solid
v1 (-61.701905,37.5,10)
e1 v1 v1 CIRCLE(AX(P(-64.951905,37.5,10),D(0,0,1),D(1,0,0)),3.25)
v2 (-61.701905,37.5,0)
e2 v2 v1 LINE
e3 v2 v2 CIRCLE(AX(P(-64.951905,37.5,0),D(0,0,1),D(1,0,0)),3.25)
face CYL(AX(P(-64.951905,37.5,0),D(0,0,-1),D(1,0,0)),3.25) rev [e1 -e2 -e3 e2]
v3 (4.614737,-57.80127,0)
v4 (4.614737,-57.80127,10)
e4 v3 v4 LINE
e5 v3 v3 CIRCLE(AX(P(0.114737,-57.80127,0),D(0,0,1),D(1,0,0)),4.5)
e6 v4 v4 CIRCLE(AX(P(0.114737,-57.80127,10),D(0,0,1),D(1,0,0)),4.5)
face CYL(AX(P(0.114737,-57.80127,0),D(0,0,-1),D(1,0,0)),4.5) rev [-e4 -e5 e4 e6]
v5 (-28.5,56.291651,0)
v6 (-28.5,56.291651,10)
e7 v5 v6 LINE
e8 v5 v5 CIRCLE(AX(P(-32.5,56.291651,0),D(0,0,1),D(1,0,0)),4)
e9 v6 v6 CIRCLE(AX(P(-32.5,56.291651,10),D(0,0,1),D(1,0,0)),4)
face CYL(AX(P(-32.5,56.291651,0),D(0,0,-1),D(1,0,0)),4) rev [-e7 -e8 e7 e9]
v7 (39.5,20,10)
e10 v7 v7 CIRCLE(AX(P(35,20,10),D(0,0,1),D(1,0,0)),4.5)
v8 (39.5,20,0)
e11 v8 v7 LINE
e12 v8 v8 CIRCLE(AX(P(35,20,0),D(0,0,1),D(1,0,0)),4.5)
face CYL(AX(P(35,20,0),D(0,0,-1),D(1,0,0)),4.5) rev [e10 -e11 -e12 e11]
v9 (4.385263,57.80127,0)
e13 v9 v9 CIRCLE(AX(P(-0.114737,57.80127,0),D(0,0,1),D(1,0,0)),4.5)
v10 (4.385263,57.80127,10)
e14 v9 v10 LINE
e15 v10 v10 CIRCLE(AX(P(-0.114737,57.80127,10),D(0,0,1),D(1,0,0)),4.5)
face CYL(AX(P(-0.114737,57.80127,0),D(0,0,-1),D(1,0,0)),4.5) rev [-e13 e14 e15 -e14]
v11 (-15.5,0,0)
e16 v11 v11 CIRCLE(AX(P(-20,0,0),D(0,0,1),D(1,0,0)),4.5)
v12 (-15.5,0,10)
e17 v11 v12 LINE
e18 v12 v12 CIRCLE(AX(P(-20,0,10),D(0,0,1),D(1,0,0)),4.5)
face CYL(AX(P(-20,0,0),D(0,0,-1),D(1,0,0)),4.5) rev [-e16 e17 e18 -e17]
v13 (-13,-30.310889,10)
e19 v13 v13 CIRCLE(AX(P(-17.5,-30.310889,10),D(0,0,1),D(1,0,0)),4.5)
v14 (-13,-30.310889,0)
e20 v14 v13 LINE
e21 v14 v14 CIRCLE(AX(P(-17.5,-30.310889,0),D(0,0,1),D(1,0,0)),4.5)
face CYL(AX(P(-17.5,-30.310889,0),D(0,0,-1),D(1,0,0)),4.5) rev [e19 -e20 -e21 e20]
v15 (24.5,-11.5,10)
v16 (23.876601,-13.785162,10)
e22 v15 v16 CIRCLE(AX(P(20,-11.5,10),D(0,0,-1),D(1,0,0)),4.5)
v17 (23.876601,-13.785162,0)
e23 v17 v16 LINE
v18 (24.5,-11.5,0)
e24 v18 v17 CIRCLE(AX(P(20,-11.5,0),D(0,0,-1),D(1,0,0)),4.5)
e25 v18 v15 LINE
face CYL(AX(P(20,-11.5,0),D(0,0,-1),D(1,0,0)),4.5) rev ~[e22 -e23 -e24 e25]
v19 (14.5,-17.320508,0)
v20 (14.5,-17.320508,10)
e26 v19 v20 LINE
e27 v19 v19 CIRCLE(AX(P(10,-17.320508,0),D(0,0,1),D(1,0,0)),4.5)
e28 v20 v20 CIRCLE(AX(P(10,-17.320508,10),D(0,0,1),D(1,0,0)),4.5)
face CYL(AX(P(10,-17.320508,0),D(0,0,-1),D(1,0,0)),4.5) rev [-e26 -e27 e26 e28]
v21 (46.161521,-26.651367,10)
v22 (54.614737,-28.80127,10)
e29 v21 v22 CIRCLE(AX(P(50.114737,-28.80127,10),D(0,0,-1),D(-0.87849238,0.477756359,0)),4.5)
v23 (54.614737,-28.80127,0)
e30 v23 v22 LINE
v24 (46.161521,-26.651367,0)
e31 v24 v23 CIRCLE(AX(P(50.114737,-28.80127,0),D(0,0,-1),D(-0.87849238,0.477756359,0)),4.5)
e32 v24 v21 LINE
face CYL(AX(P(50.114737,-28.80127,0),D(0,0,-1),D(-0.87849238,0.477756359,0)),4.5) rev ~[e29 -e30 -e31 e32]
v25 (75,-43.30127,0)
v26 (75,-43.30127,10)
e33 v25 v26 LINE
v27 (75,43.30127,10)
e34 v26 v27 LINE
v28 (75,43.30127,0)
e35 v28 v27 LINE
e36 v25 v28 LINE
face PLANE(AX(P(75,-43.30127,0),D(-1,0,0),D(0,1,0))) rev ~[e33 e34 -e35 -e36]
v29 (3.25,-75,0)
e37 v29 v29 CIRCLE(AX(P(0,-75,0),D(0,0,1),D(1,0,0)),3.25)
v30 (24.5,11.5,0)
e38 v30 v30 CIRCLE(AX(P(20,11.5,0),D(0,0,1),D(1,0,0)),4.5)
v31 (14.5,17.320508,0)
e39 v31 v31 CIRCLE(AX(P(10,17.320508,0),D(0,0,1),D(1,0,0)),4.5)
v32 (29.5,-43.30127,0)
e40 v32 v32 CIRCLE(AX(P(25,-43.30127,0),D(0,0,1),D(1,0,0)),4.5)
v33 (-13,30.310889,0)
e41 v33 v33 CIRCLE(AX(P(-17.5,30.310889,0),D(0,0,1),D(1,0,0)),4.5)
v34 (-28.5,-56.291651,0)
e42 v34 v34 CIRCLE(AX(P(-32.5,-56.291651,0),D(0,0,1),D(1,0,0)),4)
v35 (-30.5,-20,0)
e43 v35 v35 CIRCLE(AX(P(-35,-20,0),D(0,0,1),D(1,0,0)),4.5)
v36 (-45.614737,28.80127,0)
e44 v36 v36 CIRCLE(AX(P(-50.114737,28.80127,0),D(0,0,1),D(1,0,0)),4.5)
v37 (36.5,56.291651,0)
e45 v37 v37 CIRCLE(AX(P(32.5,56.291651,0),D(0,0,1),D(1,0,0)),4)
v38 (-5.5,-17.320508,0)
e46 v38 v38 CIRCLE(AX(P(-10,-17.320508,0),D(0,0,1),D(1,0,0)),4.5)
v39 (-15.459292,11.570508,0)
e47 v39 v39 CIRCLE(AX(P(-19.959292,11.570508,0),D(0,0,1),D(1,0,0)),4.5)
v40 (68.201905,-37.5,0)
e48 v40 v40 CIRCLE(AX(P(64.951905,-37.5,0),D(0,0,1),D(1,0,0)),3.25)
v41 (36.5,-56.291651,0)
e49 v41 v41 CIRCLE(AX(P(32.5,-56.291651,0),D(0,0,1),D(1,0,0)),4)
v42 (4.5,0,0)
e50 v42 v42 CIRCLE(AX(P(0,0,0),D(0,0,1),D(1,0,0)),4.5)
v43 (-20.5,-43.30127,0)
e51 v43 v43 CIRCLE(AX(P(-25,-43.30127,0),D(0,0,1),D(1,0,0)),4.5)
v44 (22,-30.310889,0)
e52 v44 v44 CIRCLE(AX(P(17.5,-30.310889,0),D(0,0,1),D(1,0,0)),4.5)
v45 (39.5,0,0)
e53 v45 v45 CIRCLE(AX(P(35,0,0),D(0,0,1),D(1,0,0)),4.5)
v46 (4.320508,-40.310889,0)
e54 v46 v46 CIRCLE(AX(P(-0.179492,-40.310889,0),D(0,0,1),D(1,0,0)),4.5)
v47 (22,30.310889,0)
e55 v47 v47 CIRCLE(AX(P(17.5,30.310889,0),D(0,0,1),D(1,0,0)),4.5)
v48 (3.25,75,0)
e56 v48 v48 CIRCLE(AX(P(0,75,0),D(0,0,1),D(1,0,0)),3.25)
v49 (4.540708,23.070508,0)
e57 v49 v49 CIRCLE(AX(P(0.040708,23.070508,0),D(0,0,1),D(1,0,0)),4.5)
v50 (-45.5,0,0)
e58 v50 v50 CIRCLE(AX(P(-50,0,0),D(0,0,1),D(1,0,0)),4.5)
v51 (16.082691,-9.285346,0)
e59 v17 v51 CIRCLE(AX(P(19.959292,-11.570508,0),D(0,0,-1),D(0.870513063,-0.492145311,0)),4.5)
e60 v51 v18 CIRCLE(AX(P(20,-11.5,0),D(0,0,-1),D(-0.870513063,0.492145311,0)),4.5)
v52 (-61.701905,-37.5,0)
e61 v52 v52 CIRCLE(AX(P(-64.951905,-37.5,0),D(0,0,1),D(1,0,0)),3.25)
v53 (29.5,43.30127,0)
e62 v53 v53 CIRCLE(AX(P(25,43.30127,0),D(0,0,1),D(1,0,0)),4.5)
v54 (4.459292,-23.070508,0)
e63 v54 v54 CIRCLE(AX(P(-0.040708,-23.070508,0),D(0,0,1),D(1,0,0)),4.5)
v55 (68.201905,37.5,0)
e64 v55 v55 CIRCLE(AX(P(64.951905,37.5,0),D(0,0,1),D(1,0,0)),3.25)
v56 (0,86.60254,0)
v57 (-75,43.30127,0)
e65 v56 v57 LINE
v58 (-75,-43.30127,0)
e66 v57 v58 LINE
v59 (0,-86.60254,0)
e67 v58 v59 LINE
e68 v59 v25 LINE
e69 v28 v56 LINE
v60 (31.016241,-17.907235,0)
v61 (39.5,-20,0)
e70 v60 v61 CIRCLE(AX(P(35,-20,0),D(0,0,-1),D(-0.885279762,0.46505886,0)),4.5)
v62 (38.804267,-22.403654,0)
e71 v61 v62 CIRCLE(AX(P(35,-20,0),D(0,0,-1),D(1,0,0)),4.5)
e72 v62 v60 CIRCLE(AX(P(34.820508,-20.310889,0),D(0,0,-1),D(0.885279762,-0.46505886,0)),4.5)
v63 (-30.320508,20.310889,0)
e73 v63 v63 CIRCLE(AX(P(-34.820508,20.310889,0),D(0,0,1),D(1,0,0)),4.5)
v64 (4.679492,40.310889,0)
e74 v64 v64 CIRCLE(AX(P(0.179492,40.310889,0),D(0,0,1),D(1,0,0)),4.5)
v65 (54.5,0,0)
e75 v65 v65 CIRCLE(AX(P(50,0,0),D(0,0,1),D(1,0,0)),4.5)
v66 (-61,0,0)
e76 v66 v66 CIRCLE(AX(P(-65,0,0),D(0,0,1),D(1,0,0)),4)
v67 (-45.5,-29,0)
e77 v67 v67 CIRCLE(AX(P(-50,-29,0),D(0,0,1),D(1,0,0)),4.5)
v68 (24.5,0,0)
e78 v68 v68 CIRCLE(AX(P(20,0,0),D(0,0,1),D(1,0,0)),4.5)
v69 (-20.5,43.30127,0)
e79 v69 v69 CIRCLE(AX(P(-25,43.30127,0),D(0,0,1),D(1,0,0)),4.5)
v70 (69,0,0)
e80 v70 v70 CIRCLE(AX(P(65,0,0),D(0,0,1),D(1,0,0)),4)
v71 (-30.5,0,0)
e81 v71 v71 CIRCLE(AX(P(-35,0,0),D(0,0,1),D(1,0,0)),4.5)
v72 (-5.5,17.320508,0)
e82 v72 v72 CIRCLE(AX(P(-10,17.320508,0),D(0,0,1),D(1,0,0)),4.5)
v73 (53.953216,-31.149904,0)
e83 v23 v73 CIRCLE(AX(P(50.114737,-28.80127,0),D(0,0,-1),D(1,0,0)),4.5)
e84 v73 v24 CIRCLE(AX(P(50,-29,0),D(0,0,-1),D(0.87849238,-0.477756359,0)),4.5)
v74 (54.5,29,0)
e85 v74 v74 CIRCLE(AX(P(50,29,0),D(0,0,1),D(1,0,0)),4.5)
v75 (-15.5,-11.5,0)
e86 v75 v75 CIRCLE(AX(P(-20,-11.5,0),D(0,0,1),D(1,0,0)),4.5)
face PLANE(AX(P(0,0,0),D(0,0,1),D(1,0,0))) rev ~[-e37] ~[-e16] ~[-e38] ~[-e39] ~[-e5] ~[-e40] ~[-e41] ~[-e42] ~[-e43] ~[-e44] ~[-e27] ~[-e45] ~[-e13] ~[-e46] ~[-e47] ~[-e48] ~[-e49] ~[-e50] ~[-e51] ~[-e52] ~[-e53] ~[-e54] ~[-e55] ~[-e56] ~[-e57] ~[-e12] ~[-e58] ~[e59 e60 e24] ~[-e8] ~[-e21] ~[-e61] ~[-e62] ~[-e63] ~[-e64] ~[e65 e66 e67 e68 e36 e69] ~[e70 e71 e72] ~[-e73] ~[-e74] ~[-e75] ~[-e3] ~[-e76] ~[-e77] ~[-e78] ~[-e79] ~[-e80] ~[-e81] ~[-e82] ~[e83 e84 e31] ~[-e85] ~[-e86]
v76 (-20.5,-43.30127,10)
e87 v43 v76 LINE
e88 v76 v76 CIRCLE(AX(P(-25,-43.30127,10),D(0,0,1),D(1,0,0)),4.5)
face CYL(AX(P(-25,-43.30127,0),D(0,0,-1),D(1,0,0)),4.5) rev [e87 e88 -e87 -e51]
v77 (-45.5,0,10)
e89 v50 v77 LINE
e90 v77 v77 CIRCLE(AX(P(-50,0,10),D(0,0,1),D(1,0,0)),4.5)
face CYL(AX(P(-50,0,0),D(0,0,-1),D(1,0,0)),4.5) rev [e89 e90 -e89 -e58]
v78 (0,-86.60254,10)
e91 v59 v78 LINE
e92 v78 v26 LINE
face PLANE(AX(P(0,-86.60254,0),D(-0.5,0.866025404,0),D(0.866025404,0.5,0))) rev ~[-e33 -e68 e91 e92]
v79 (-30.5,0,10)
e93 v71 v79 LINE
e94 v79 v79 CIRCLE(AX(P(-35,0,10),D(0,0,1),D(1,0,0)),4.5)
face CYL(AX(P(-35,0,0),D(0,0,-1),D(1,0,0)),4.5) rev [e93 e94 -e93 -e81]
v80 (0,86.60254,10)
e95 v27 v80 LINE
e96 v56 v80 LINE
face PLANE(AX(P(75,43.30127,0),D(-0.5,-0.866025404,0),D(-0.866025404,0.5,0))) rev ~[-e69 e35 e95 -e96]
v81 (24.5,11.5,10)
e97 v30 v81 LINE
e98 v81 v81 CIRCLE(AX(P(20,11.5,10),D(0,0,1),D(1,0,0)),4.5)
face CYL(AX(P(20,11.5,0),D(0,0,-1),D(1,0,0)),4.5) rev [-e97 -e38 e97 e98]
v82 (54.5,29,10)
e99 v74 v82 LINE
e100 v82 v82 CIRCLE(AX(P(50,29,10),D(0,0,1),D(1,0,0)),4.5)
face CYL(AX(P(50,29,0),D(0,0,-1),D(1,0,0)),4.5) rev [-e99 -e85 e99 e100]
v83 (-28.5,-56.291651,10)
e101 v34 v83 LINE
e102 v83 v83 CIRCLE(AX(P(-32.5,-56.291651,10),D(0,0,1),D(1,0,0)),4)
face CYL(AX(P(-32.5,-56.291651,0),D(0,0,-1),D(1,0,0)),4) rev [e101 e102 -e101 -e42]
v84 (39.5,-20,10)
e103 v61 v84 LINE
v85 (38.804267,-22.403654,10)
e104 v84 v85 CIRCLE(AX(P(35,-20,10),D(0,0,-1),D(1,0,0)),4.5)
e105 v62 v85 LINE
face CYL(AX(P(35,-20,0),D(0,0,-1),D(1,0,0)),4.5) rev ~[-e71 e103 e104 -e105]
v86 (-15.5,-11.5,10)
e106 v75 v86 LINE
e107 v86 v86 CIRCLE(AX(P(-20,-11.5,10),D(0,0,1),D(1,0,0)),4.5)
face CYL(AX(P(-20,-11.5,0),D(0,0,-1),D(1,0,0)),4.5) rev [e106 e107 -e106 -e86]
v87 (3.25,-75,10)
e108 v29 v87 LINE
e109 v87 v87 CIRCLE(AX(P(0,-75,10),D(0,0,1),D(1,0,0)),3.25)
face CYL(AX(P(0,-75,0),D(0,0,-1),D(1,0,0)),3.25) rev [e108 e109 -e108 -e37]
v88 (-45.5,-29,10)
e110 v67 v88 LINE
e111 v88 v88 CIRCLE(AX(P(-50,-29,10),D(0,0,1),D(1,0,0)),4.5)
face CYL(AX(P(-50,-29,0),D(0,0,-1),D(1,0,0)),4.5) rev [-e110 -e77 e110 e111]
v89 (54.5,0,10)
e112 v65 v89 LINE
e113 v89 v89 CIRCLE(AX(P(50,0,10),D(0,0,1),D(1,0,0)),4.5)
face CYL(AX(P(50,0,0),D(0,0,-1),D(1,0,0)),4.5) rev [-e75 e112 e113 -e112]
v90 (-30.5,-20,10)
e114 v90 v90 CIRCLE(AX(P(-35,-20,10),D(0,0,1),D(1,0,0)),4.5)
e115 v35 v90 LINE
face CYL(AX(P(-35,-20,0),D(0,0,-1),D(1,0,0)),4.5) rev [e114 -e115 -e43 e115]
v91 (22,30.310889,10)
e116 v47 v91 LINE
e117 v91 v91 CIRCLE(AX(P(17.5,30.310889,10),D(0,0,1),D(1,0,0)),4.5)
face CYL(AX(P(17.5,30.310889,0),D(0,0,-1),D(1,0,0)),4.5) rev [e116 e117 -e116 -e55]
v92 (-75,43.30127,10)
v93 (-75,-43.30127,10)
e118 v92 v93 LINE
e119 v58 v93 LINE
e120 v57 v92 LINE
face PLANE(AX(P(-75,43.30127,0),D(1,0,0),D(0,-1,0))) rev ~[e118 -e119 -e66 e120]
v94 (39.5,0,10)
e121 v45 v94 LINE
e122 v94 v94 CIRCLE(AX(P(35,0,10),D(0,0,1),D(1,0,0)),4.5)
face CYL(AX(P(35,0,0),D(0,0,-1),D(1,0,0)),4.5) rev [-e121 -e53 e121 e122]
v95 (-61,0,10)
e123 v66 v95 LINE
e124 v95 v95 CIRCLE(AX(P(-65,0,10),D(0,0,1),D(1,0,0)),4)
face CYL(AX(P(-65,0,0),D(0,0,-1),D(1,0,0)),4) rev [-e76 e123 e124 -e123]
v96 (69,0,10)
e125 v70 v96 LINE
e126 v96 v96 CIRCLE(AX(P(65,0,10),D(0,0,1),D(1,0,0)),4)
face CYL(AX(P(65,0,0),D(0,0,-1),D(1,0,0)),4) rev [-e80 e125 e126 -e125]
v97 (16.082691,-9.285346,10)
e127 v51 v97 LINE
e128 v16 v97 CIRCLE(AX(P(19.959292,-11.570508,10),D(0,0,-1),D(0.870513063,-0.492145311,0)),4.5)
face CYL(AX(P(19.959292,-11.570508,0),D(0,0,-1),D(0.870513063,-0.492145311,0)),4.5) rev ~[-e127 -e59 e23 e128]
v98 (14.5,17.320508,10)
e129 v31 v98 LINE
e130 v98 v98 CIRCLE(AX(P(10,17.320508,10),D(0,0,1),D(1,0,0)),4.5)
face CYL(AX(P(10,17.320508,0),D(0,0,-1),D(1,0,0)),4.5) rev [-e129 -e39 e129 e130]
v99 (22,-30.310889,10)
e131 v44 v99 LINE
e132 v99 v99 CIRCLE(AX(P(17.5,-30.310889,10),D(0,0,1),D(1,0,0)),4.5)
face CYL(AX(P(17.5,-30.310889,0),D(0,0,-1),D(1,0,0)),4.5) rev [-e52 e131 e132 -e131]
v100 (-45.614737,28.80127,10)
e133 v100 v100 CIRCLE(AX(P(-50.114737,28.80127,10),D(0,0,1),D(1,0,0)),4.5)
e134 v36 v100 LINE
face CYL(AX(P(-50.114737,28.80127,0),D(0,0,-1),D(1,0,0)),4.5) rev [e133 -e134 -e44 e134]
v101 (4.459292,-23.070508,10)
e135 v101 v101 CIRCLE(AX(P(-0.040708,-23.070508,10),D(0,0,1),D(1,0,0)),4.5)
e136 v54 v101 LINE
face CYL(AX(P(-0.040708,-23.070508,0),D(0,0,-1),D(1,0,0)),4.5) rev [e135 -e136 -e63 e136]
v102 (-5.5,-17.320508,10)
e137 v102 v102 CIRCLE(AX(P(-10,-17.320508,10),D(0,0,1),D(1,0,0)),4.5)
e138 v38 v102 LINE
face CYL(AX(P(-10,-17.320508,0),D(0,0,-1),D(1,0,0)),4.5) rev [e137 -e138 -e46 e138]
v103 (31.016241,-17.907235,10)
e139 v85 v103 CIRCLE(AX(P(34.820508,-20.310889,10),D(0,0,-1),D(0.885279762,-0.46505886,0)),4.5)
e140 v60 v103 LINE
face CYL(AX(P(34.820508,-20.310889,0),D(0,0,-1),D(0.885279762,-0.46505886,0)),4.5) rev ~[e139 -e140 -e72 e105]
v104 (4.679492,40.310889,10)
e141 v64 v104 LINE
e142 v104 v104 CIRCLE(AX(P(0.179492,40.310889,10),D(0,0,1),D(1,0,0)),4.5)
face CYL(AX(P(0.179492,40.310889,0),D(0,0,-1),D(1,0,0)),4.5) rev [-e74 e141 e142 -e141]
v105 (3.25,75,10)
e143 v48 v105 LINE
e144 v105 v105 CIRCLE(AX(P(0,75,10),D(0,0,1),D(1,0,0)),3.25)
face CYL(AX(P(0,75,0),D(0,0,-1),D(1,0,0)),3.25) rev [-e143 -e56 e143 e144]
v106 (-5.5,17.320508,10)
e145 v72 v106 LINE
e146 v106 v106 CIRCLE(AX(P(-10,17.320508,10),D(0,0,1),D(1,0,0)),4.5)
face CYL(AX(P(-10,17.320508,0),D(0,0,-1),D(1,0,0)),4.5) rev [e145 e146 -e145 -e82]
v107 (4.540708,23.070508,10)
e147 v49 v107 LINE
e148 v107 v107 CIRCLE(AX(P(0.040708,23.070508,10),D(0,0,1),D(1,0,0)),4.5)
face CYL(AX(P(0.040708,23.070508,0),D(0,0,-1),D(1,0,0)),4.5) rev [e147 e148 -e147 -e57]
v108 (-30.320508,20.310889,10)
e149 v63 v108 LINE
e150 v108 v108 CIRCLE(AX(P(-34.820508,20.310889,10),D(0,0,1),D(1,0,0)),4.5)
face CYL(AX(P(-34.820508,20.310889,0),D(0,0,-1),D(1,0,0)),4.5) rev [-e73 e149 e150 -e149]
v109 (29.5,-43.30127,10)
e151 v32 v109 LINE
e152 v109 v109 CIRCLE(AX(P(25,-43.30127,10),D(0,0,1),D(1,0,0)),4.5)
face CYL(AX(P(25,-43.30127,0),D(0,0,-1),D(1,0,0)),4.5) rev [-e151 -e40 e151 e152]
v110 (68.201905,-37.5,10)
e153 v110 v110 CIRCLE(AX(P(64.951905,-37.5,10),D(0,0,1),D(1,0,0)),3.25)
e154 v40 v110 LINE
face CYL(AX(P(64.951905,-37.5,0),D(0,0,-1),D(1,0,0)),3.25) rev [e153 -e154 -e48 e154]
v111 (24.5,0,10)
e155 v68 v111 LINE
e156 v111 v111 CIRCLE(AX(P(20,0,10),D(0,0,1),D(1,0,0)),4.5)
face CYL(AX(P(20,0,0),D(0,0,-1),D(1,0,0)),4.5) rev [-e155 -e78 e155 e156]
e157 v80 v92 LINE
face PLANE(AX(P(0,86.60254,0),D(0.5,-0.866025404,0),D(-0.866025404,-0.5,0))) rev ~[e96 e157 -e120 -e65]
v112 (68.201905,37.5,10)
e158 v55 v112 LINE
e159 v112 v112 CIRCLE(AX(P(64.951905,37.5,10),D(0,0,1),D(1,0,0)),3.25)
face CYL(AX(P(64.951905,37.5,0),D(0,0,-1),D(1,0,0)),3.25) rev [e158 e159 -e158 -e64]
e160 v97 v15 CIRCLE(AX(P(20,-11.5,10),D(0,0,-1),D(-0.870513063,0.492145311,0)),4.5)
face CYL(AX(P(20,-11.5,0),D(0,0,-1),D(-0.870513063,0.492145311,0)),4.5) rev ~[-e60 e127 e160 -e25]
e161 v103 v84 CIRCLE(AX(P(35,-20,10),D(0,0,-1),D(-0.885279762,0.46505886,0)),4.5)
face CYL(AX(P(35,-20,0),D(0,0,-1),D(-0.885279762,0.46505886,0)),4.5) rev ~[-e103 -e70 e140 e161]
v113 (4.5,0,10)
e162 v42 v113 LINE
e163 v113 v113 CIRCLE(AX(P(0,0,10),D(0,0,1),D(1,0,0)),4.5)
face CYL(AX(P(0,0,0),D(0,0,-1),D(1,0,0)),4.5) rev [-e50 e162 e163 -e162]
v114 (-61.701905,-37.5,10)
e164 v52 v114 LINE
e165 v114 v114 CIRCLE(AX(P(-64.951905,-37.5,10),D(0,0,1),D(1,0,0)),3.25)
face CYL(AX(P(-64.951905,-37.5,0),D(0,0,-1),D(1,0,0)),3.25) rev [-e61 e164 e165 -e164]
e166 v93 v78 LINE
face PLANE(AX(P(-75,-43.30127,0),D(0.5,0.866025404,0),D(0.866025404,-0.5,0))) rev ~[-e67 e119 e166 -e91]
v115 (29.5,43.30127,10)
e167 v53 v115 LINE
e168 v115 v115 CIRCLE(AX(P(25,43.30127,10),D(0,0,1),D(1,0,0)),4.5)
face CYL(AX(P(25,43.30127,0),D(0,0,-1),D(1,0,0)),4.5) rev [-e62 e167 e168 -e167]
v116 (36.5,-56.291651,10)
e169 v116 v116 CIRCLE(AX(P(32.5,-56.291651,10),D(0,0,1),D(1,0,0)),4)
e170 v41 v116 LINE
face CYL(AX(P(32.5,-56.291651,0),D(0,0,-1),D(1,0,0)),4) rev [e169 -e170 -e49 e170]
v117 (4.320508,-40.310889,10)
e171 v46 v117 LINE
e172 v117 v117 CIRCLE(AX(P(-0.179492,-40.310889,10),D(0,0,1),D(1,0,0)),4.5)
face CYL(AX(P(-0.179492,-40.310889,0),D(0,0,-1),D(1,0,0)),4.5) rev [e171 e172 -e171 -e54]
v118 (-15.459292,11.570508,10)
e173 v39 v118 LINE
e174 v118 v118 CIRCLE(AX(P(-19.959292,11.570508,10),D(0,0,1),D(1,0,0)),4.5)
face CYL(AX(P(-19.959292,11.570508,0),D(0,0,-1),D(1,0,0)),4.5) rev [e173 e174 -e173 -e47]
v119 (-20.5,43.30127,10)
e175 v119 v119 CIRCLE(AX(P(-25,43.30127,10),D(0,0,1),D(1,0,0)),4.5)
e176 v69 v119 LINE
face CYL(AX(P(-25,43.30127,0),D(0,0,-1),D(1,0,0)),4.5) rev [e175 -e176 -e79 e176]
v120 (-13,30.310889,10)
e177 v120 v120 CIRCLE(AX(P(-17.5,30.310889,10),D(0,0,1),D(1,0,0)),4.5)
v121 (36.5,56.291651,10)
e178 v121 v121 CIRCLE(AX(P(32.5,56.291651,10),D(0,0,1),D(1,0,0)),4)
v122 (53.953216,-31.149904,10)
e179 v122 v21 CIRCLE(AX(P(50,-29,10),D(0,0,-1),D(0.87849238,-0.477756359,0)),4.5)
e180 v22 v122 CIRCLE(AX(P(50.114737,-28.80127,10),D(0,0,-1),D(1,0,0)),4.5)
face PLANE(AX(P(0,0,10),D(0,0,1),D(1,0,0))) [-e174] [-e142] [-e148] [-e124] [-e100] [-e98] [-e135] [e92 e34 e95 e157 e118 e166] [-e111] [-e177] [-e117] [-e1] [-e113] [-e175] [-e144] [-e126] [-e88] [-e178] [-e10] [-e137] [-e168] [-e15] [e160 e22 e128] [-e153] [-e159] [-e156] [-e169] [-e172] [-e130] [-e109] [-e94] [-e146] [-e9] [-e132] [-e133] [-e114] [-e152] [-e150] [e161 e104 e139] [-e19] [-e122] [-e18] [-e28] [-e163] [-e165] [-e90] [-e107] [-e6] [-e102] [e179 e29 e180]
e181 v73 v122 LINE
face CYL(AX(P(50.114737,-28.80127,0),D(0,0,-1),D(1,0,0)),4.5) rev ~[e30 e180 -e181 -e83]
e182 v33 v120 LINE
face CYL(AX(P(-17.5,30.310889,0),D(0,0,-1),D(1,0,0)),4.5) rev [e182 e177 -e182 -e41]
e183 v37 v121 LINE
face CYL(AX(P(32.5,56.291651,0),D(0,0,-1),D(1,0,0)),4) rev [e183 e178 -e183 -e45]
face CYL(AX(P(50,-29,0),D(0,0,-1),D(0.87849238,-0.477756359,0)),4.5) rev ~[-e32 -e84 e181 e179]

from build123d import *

# Parameters (mm, degrees)
SKETCH1_R           = 4
SKETCH1_R_2         = 3.25
SKETCH1_R_3         = 4.5
BOSS_EXTRUDE1_DEPTH = 10


with BuildPart() as part:
    # Sketch1 → Boss-Extrude1 (new body)
    with BuildSketch(Plane.XY):
        Polygon((-75, -43.301270189), (0, -86.602540378), (75, -43.301270189), (75, 43.301270189), (0, 86.602540378), (-75, 43.301270189), align=None)
        with Locations((-32.5, -56.291651246)):
            Circle(SKETCH1_R, mode=Mode.SUBTRACT)
        with Locations((-64.951905284, -37.5)):
            Circle(SKETCH1_R_2, mode=Mode.SUBTRACT)
        with Locations((-50, -29)):
            Circle(SKETCH1_R_3, mode=Mode.SUBTRACT)
        with Locations((-65, 0)):
            Circle(SKETCH1_R, mode=Mode.SUBTRACT)
        with Locations((-25, -43.301270189)):
            Circle(SKETCH1_R_3, mode=Mode.SUBTRACT)
        with Locations((-0.179491924, -40.310889132)):
            Circle(SKETCH1_R_3, mode=Mode.SUBTRACT)
        with Locations((-17.5, -30.310889132)):
            Circle(SKETCH1_R_3, mode=Mode.SUBTRACT)
        with Locations((-0.040707856, -23.070508076)):
            Circle(SKETCH1_R_3, mode=Mode.SUBTRACT)
        with Locations((-35, -20)):
            Circle(SKETCH1_R_3, mode=Mode.SUBTRACT)
        with Locations((-20, -11.5)):
            Circle(SKETCH1_R_3, mode=Mode.SUBTRACT)
        with Locations((-10, -17.320508076)):
            Circle(SKETCH1_R_3, mode=Mode.SUBTRACT)
        with Locations((0, -75)):
            Circle(SKETCH1_R_2, mode=Mode.SUBTRACT)
        with Locations((0.11473671, -57.801270189)):
            Circle(SKETCH1_R_3, mode=Mode.SUBTRACT)
        with Locations((32.5, -56.291651246)):
            Circle(SKETCH1_R, mode=Mode.SUBTRACT)
        with Locations((25, -43.301270189)):
            Circle(SKETCH1_R_3, mode=Mode.SUBTRACT)
        with Locations((17.5, -30.310889132)):
            Circle(SKETCH1_R_3, mode=Mode.SUBTRACT)
        with Locations((10, -17.320508076)):
            Circle(SKETCH1_R_3, mode=Mode.SUBTRACT)
        with BuildLine():
            ThreePointArc((16.082691215, -9.285346102), (21.145013203, -7.148110208), (24.5, -11.5))
            ThreePointArc((24.5, -11.5), (24.341353716, -12.684334375), (23.876600928, -13.785161973))
            ThreePointArc((23.876600928, -13.785161973), (17.709292144, -15.467622393), (16.082691215, -9.285346102))
        make_face(mode=Mode.SUBTRACT)
        with BuildLine():
            ThreePointArc((31.016241071, -17.907235132), (36.077748769, -15.630966058), (39.5, -20))
            ThreePointArc((39.5, -20), (39.322568769, -21.251159158), (38.804267005, -22.403654001))
            ThreePointArc((38.804267005, -22.403654001), (32.570508076, -24.208003449), (31.016241071, -17.907235132))
        make_face(mode=Mode.SUBTRACT)
        with BuildLine():
            ThreePointArc((53.95321571, -31.149903614), (47.75, -32.897114317), (46.161521, -26.651366575))
            ThreePointArc((46.161521, -26.651366575), (51.223909668, -24.440108034), (54.61473671, -28.801270189))
            ThreePointArc((54.61473671, -28.801270189), (54.446200406, -30.021279308), (53.95321571, -31.149903614))
        make_face(mode=Mode.SUBTRACT)
        with Locations((64.951905284, -37.5)):
            Circle(SKETCH1_R_2, mode=Mode.SUBTRACT)
        with Locations((-50, 0)):
            Circle(SKETCH1_R_3, mode=Mode.SUBTRACT)
        with Locations((-64.951905284, 37.5)):
            Circle(SKETCH1_R_2, mode=Mode.SUBTRACT)
        with Locations((-50.11473671, 28.801270189)):
            Circle(SKETCH1_R_3, mode=Mode.SUBTRACT)
        with Locations((-35, 0)):
            Circle(SKETCH1_R_3, mode=Mode.SUBTRACT)
        with Locations((-20, 0)):
            Circle(SKETCH1_R_3, mode=Mode.SUBTRACT)
        with Locations((-34.820508076, 20.310889132)):
            Circle(SKETCH1_R_3, mode=Mode.SUBTRACT)
        with Locations((-19.959292144, 11.570508076)):
            Circle(SKETCH1_R_3, mode=Mode.SUBTRACT)
        with Locations((-10, 17.320508076)):
            Circle(SKETCH1_R_3, mode=Mode.SUBTRACT)
        with Locations((-17.5, 30.310889132)):
            Circle(SKETCH1_R_3, mode=Mode.SUBTRACT)
        with Locations((-25, 43.301270189)):
            Circle(SKETCH1_R_3, mode=Mode.SUBTRACT)
        with Locations((-32.5, 56.291651246)):
            Circle(SKETCH1_R, mode=Mode.SUBTRACT)
        with Locations((-0.11473671, 57.801270189)):
            Circle(SKETCH1_R_3, mode=Mode.SUBTRACT)
        Circle(SKETCH1_R_3, mode=Mode.SUBTRACT)
        with Locations((10, 17.320508076)):
            Circle(SKETCH1_R_3, mode=Mode.SUBTRACT)
        with Locations((20, 0)):
            Circle(SKETCH1_R_3, mode=Mode.SUBTRACT)
        with Locations((35, 0)):
            Circle(SKETCH1_R_3, mode=Mode.SUBTRACT)
        with Locations((20, 11.5)):
            Circle(SKETCH1_R_3, mode=Mode.SUBTRACT)
        with Locations((35, 20)):
            Circle(SKETCH1_R_3, mode=Mode.SUBTRACT)
        with Locations((0.040707856, 23.070508076)):
            Circle(SKETCH1_R_3, mode=Mode.SUBTRACT)
        with Locations((17.5, 30.310889132)):
            Circle(SKETCH1_R_3, mode=Mode.SUBTRACT)
        with Locations((0.179491924, 40.310889132)):
            Circle(SKETCH1_R_3, mode=Mode.SUBTRACT)
        with Locations((25, 43.301270189)):
            Circle(SKETCH1_R_3, mode=Mode.SUBTRACT)
        with Locations((50, 0)):
            Circle(SKETCH1_R_3, mode=Mode.SUBTRACT)
        with Locations((65, 0)):
            Circle(SKETCH1_R, mode=Mode.SUBTRACT)
        with Locations((50, 29)):
            Circle(SKETCH1_R_3, mode=Mode.SUBTRACT)
        with Locations((64.951905284, 37.5)):
            Circle(SKETCH1_R_2, mode=Mode.SUBTRACT)
        with Locations((32.5, 56.291651246)):
            Circle(SKETCH1_R, mode=Mode.SUBTRACT)
        with Locations((0, 75)):
            Circle(SKETCH1_R_2, mode=Mode.SUBTRACT)
    extrude(amount=BOSS_EXTRUDE1_DEPTH)


solid = part.part
